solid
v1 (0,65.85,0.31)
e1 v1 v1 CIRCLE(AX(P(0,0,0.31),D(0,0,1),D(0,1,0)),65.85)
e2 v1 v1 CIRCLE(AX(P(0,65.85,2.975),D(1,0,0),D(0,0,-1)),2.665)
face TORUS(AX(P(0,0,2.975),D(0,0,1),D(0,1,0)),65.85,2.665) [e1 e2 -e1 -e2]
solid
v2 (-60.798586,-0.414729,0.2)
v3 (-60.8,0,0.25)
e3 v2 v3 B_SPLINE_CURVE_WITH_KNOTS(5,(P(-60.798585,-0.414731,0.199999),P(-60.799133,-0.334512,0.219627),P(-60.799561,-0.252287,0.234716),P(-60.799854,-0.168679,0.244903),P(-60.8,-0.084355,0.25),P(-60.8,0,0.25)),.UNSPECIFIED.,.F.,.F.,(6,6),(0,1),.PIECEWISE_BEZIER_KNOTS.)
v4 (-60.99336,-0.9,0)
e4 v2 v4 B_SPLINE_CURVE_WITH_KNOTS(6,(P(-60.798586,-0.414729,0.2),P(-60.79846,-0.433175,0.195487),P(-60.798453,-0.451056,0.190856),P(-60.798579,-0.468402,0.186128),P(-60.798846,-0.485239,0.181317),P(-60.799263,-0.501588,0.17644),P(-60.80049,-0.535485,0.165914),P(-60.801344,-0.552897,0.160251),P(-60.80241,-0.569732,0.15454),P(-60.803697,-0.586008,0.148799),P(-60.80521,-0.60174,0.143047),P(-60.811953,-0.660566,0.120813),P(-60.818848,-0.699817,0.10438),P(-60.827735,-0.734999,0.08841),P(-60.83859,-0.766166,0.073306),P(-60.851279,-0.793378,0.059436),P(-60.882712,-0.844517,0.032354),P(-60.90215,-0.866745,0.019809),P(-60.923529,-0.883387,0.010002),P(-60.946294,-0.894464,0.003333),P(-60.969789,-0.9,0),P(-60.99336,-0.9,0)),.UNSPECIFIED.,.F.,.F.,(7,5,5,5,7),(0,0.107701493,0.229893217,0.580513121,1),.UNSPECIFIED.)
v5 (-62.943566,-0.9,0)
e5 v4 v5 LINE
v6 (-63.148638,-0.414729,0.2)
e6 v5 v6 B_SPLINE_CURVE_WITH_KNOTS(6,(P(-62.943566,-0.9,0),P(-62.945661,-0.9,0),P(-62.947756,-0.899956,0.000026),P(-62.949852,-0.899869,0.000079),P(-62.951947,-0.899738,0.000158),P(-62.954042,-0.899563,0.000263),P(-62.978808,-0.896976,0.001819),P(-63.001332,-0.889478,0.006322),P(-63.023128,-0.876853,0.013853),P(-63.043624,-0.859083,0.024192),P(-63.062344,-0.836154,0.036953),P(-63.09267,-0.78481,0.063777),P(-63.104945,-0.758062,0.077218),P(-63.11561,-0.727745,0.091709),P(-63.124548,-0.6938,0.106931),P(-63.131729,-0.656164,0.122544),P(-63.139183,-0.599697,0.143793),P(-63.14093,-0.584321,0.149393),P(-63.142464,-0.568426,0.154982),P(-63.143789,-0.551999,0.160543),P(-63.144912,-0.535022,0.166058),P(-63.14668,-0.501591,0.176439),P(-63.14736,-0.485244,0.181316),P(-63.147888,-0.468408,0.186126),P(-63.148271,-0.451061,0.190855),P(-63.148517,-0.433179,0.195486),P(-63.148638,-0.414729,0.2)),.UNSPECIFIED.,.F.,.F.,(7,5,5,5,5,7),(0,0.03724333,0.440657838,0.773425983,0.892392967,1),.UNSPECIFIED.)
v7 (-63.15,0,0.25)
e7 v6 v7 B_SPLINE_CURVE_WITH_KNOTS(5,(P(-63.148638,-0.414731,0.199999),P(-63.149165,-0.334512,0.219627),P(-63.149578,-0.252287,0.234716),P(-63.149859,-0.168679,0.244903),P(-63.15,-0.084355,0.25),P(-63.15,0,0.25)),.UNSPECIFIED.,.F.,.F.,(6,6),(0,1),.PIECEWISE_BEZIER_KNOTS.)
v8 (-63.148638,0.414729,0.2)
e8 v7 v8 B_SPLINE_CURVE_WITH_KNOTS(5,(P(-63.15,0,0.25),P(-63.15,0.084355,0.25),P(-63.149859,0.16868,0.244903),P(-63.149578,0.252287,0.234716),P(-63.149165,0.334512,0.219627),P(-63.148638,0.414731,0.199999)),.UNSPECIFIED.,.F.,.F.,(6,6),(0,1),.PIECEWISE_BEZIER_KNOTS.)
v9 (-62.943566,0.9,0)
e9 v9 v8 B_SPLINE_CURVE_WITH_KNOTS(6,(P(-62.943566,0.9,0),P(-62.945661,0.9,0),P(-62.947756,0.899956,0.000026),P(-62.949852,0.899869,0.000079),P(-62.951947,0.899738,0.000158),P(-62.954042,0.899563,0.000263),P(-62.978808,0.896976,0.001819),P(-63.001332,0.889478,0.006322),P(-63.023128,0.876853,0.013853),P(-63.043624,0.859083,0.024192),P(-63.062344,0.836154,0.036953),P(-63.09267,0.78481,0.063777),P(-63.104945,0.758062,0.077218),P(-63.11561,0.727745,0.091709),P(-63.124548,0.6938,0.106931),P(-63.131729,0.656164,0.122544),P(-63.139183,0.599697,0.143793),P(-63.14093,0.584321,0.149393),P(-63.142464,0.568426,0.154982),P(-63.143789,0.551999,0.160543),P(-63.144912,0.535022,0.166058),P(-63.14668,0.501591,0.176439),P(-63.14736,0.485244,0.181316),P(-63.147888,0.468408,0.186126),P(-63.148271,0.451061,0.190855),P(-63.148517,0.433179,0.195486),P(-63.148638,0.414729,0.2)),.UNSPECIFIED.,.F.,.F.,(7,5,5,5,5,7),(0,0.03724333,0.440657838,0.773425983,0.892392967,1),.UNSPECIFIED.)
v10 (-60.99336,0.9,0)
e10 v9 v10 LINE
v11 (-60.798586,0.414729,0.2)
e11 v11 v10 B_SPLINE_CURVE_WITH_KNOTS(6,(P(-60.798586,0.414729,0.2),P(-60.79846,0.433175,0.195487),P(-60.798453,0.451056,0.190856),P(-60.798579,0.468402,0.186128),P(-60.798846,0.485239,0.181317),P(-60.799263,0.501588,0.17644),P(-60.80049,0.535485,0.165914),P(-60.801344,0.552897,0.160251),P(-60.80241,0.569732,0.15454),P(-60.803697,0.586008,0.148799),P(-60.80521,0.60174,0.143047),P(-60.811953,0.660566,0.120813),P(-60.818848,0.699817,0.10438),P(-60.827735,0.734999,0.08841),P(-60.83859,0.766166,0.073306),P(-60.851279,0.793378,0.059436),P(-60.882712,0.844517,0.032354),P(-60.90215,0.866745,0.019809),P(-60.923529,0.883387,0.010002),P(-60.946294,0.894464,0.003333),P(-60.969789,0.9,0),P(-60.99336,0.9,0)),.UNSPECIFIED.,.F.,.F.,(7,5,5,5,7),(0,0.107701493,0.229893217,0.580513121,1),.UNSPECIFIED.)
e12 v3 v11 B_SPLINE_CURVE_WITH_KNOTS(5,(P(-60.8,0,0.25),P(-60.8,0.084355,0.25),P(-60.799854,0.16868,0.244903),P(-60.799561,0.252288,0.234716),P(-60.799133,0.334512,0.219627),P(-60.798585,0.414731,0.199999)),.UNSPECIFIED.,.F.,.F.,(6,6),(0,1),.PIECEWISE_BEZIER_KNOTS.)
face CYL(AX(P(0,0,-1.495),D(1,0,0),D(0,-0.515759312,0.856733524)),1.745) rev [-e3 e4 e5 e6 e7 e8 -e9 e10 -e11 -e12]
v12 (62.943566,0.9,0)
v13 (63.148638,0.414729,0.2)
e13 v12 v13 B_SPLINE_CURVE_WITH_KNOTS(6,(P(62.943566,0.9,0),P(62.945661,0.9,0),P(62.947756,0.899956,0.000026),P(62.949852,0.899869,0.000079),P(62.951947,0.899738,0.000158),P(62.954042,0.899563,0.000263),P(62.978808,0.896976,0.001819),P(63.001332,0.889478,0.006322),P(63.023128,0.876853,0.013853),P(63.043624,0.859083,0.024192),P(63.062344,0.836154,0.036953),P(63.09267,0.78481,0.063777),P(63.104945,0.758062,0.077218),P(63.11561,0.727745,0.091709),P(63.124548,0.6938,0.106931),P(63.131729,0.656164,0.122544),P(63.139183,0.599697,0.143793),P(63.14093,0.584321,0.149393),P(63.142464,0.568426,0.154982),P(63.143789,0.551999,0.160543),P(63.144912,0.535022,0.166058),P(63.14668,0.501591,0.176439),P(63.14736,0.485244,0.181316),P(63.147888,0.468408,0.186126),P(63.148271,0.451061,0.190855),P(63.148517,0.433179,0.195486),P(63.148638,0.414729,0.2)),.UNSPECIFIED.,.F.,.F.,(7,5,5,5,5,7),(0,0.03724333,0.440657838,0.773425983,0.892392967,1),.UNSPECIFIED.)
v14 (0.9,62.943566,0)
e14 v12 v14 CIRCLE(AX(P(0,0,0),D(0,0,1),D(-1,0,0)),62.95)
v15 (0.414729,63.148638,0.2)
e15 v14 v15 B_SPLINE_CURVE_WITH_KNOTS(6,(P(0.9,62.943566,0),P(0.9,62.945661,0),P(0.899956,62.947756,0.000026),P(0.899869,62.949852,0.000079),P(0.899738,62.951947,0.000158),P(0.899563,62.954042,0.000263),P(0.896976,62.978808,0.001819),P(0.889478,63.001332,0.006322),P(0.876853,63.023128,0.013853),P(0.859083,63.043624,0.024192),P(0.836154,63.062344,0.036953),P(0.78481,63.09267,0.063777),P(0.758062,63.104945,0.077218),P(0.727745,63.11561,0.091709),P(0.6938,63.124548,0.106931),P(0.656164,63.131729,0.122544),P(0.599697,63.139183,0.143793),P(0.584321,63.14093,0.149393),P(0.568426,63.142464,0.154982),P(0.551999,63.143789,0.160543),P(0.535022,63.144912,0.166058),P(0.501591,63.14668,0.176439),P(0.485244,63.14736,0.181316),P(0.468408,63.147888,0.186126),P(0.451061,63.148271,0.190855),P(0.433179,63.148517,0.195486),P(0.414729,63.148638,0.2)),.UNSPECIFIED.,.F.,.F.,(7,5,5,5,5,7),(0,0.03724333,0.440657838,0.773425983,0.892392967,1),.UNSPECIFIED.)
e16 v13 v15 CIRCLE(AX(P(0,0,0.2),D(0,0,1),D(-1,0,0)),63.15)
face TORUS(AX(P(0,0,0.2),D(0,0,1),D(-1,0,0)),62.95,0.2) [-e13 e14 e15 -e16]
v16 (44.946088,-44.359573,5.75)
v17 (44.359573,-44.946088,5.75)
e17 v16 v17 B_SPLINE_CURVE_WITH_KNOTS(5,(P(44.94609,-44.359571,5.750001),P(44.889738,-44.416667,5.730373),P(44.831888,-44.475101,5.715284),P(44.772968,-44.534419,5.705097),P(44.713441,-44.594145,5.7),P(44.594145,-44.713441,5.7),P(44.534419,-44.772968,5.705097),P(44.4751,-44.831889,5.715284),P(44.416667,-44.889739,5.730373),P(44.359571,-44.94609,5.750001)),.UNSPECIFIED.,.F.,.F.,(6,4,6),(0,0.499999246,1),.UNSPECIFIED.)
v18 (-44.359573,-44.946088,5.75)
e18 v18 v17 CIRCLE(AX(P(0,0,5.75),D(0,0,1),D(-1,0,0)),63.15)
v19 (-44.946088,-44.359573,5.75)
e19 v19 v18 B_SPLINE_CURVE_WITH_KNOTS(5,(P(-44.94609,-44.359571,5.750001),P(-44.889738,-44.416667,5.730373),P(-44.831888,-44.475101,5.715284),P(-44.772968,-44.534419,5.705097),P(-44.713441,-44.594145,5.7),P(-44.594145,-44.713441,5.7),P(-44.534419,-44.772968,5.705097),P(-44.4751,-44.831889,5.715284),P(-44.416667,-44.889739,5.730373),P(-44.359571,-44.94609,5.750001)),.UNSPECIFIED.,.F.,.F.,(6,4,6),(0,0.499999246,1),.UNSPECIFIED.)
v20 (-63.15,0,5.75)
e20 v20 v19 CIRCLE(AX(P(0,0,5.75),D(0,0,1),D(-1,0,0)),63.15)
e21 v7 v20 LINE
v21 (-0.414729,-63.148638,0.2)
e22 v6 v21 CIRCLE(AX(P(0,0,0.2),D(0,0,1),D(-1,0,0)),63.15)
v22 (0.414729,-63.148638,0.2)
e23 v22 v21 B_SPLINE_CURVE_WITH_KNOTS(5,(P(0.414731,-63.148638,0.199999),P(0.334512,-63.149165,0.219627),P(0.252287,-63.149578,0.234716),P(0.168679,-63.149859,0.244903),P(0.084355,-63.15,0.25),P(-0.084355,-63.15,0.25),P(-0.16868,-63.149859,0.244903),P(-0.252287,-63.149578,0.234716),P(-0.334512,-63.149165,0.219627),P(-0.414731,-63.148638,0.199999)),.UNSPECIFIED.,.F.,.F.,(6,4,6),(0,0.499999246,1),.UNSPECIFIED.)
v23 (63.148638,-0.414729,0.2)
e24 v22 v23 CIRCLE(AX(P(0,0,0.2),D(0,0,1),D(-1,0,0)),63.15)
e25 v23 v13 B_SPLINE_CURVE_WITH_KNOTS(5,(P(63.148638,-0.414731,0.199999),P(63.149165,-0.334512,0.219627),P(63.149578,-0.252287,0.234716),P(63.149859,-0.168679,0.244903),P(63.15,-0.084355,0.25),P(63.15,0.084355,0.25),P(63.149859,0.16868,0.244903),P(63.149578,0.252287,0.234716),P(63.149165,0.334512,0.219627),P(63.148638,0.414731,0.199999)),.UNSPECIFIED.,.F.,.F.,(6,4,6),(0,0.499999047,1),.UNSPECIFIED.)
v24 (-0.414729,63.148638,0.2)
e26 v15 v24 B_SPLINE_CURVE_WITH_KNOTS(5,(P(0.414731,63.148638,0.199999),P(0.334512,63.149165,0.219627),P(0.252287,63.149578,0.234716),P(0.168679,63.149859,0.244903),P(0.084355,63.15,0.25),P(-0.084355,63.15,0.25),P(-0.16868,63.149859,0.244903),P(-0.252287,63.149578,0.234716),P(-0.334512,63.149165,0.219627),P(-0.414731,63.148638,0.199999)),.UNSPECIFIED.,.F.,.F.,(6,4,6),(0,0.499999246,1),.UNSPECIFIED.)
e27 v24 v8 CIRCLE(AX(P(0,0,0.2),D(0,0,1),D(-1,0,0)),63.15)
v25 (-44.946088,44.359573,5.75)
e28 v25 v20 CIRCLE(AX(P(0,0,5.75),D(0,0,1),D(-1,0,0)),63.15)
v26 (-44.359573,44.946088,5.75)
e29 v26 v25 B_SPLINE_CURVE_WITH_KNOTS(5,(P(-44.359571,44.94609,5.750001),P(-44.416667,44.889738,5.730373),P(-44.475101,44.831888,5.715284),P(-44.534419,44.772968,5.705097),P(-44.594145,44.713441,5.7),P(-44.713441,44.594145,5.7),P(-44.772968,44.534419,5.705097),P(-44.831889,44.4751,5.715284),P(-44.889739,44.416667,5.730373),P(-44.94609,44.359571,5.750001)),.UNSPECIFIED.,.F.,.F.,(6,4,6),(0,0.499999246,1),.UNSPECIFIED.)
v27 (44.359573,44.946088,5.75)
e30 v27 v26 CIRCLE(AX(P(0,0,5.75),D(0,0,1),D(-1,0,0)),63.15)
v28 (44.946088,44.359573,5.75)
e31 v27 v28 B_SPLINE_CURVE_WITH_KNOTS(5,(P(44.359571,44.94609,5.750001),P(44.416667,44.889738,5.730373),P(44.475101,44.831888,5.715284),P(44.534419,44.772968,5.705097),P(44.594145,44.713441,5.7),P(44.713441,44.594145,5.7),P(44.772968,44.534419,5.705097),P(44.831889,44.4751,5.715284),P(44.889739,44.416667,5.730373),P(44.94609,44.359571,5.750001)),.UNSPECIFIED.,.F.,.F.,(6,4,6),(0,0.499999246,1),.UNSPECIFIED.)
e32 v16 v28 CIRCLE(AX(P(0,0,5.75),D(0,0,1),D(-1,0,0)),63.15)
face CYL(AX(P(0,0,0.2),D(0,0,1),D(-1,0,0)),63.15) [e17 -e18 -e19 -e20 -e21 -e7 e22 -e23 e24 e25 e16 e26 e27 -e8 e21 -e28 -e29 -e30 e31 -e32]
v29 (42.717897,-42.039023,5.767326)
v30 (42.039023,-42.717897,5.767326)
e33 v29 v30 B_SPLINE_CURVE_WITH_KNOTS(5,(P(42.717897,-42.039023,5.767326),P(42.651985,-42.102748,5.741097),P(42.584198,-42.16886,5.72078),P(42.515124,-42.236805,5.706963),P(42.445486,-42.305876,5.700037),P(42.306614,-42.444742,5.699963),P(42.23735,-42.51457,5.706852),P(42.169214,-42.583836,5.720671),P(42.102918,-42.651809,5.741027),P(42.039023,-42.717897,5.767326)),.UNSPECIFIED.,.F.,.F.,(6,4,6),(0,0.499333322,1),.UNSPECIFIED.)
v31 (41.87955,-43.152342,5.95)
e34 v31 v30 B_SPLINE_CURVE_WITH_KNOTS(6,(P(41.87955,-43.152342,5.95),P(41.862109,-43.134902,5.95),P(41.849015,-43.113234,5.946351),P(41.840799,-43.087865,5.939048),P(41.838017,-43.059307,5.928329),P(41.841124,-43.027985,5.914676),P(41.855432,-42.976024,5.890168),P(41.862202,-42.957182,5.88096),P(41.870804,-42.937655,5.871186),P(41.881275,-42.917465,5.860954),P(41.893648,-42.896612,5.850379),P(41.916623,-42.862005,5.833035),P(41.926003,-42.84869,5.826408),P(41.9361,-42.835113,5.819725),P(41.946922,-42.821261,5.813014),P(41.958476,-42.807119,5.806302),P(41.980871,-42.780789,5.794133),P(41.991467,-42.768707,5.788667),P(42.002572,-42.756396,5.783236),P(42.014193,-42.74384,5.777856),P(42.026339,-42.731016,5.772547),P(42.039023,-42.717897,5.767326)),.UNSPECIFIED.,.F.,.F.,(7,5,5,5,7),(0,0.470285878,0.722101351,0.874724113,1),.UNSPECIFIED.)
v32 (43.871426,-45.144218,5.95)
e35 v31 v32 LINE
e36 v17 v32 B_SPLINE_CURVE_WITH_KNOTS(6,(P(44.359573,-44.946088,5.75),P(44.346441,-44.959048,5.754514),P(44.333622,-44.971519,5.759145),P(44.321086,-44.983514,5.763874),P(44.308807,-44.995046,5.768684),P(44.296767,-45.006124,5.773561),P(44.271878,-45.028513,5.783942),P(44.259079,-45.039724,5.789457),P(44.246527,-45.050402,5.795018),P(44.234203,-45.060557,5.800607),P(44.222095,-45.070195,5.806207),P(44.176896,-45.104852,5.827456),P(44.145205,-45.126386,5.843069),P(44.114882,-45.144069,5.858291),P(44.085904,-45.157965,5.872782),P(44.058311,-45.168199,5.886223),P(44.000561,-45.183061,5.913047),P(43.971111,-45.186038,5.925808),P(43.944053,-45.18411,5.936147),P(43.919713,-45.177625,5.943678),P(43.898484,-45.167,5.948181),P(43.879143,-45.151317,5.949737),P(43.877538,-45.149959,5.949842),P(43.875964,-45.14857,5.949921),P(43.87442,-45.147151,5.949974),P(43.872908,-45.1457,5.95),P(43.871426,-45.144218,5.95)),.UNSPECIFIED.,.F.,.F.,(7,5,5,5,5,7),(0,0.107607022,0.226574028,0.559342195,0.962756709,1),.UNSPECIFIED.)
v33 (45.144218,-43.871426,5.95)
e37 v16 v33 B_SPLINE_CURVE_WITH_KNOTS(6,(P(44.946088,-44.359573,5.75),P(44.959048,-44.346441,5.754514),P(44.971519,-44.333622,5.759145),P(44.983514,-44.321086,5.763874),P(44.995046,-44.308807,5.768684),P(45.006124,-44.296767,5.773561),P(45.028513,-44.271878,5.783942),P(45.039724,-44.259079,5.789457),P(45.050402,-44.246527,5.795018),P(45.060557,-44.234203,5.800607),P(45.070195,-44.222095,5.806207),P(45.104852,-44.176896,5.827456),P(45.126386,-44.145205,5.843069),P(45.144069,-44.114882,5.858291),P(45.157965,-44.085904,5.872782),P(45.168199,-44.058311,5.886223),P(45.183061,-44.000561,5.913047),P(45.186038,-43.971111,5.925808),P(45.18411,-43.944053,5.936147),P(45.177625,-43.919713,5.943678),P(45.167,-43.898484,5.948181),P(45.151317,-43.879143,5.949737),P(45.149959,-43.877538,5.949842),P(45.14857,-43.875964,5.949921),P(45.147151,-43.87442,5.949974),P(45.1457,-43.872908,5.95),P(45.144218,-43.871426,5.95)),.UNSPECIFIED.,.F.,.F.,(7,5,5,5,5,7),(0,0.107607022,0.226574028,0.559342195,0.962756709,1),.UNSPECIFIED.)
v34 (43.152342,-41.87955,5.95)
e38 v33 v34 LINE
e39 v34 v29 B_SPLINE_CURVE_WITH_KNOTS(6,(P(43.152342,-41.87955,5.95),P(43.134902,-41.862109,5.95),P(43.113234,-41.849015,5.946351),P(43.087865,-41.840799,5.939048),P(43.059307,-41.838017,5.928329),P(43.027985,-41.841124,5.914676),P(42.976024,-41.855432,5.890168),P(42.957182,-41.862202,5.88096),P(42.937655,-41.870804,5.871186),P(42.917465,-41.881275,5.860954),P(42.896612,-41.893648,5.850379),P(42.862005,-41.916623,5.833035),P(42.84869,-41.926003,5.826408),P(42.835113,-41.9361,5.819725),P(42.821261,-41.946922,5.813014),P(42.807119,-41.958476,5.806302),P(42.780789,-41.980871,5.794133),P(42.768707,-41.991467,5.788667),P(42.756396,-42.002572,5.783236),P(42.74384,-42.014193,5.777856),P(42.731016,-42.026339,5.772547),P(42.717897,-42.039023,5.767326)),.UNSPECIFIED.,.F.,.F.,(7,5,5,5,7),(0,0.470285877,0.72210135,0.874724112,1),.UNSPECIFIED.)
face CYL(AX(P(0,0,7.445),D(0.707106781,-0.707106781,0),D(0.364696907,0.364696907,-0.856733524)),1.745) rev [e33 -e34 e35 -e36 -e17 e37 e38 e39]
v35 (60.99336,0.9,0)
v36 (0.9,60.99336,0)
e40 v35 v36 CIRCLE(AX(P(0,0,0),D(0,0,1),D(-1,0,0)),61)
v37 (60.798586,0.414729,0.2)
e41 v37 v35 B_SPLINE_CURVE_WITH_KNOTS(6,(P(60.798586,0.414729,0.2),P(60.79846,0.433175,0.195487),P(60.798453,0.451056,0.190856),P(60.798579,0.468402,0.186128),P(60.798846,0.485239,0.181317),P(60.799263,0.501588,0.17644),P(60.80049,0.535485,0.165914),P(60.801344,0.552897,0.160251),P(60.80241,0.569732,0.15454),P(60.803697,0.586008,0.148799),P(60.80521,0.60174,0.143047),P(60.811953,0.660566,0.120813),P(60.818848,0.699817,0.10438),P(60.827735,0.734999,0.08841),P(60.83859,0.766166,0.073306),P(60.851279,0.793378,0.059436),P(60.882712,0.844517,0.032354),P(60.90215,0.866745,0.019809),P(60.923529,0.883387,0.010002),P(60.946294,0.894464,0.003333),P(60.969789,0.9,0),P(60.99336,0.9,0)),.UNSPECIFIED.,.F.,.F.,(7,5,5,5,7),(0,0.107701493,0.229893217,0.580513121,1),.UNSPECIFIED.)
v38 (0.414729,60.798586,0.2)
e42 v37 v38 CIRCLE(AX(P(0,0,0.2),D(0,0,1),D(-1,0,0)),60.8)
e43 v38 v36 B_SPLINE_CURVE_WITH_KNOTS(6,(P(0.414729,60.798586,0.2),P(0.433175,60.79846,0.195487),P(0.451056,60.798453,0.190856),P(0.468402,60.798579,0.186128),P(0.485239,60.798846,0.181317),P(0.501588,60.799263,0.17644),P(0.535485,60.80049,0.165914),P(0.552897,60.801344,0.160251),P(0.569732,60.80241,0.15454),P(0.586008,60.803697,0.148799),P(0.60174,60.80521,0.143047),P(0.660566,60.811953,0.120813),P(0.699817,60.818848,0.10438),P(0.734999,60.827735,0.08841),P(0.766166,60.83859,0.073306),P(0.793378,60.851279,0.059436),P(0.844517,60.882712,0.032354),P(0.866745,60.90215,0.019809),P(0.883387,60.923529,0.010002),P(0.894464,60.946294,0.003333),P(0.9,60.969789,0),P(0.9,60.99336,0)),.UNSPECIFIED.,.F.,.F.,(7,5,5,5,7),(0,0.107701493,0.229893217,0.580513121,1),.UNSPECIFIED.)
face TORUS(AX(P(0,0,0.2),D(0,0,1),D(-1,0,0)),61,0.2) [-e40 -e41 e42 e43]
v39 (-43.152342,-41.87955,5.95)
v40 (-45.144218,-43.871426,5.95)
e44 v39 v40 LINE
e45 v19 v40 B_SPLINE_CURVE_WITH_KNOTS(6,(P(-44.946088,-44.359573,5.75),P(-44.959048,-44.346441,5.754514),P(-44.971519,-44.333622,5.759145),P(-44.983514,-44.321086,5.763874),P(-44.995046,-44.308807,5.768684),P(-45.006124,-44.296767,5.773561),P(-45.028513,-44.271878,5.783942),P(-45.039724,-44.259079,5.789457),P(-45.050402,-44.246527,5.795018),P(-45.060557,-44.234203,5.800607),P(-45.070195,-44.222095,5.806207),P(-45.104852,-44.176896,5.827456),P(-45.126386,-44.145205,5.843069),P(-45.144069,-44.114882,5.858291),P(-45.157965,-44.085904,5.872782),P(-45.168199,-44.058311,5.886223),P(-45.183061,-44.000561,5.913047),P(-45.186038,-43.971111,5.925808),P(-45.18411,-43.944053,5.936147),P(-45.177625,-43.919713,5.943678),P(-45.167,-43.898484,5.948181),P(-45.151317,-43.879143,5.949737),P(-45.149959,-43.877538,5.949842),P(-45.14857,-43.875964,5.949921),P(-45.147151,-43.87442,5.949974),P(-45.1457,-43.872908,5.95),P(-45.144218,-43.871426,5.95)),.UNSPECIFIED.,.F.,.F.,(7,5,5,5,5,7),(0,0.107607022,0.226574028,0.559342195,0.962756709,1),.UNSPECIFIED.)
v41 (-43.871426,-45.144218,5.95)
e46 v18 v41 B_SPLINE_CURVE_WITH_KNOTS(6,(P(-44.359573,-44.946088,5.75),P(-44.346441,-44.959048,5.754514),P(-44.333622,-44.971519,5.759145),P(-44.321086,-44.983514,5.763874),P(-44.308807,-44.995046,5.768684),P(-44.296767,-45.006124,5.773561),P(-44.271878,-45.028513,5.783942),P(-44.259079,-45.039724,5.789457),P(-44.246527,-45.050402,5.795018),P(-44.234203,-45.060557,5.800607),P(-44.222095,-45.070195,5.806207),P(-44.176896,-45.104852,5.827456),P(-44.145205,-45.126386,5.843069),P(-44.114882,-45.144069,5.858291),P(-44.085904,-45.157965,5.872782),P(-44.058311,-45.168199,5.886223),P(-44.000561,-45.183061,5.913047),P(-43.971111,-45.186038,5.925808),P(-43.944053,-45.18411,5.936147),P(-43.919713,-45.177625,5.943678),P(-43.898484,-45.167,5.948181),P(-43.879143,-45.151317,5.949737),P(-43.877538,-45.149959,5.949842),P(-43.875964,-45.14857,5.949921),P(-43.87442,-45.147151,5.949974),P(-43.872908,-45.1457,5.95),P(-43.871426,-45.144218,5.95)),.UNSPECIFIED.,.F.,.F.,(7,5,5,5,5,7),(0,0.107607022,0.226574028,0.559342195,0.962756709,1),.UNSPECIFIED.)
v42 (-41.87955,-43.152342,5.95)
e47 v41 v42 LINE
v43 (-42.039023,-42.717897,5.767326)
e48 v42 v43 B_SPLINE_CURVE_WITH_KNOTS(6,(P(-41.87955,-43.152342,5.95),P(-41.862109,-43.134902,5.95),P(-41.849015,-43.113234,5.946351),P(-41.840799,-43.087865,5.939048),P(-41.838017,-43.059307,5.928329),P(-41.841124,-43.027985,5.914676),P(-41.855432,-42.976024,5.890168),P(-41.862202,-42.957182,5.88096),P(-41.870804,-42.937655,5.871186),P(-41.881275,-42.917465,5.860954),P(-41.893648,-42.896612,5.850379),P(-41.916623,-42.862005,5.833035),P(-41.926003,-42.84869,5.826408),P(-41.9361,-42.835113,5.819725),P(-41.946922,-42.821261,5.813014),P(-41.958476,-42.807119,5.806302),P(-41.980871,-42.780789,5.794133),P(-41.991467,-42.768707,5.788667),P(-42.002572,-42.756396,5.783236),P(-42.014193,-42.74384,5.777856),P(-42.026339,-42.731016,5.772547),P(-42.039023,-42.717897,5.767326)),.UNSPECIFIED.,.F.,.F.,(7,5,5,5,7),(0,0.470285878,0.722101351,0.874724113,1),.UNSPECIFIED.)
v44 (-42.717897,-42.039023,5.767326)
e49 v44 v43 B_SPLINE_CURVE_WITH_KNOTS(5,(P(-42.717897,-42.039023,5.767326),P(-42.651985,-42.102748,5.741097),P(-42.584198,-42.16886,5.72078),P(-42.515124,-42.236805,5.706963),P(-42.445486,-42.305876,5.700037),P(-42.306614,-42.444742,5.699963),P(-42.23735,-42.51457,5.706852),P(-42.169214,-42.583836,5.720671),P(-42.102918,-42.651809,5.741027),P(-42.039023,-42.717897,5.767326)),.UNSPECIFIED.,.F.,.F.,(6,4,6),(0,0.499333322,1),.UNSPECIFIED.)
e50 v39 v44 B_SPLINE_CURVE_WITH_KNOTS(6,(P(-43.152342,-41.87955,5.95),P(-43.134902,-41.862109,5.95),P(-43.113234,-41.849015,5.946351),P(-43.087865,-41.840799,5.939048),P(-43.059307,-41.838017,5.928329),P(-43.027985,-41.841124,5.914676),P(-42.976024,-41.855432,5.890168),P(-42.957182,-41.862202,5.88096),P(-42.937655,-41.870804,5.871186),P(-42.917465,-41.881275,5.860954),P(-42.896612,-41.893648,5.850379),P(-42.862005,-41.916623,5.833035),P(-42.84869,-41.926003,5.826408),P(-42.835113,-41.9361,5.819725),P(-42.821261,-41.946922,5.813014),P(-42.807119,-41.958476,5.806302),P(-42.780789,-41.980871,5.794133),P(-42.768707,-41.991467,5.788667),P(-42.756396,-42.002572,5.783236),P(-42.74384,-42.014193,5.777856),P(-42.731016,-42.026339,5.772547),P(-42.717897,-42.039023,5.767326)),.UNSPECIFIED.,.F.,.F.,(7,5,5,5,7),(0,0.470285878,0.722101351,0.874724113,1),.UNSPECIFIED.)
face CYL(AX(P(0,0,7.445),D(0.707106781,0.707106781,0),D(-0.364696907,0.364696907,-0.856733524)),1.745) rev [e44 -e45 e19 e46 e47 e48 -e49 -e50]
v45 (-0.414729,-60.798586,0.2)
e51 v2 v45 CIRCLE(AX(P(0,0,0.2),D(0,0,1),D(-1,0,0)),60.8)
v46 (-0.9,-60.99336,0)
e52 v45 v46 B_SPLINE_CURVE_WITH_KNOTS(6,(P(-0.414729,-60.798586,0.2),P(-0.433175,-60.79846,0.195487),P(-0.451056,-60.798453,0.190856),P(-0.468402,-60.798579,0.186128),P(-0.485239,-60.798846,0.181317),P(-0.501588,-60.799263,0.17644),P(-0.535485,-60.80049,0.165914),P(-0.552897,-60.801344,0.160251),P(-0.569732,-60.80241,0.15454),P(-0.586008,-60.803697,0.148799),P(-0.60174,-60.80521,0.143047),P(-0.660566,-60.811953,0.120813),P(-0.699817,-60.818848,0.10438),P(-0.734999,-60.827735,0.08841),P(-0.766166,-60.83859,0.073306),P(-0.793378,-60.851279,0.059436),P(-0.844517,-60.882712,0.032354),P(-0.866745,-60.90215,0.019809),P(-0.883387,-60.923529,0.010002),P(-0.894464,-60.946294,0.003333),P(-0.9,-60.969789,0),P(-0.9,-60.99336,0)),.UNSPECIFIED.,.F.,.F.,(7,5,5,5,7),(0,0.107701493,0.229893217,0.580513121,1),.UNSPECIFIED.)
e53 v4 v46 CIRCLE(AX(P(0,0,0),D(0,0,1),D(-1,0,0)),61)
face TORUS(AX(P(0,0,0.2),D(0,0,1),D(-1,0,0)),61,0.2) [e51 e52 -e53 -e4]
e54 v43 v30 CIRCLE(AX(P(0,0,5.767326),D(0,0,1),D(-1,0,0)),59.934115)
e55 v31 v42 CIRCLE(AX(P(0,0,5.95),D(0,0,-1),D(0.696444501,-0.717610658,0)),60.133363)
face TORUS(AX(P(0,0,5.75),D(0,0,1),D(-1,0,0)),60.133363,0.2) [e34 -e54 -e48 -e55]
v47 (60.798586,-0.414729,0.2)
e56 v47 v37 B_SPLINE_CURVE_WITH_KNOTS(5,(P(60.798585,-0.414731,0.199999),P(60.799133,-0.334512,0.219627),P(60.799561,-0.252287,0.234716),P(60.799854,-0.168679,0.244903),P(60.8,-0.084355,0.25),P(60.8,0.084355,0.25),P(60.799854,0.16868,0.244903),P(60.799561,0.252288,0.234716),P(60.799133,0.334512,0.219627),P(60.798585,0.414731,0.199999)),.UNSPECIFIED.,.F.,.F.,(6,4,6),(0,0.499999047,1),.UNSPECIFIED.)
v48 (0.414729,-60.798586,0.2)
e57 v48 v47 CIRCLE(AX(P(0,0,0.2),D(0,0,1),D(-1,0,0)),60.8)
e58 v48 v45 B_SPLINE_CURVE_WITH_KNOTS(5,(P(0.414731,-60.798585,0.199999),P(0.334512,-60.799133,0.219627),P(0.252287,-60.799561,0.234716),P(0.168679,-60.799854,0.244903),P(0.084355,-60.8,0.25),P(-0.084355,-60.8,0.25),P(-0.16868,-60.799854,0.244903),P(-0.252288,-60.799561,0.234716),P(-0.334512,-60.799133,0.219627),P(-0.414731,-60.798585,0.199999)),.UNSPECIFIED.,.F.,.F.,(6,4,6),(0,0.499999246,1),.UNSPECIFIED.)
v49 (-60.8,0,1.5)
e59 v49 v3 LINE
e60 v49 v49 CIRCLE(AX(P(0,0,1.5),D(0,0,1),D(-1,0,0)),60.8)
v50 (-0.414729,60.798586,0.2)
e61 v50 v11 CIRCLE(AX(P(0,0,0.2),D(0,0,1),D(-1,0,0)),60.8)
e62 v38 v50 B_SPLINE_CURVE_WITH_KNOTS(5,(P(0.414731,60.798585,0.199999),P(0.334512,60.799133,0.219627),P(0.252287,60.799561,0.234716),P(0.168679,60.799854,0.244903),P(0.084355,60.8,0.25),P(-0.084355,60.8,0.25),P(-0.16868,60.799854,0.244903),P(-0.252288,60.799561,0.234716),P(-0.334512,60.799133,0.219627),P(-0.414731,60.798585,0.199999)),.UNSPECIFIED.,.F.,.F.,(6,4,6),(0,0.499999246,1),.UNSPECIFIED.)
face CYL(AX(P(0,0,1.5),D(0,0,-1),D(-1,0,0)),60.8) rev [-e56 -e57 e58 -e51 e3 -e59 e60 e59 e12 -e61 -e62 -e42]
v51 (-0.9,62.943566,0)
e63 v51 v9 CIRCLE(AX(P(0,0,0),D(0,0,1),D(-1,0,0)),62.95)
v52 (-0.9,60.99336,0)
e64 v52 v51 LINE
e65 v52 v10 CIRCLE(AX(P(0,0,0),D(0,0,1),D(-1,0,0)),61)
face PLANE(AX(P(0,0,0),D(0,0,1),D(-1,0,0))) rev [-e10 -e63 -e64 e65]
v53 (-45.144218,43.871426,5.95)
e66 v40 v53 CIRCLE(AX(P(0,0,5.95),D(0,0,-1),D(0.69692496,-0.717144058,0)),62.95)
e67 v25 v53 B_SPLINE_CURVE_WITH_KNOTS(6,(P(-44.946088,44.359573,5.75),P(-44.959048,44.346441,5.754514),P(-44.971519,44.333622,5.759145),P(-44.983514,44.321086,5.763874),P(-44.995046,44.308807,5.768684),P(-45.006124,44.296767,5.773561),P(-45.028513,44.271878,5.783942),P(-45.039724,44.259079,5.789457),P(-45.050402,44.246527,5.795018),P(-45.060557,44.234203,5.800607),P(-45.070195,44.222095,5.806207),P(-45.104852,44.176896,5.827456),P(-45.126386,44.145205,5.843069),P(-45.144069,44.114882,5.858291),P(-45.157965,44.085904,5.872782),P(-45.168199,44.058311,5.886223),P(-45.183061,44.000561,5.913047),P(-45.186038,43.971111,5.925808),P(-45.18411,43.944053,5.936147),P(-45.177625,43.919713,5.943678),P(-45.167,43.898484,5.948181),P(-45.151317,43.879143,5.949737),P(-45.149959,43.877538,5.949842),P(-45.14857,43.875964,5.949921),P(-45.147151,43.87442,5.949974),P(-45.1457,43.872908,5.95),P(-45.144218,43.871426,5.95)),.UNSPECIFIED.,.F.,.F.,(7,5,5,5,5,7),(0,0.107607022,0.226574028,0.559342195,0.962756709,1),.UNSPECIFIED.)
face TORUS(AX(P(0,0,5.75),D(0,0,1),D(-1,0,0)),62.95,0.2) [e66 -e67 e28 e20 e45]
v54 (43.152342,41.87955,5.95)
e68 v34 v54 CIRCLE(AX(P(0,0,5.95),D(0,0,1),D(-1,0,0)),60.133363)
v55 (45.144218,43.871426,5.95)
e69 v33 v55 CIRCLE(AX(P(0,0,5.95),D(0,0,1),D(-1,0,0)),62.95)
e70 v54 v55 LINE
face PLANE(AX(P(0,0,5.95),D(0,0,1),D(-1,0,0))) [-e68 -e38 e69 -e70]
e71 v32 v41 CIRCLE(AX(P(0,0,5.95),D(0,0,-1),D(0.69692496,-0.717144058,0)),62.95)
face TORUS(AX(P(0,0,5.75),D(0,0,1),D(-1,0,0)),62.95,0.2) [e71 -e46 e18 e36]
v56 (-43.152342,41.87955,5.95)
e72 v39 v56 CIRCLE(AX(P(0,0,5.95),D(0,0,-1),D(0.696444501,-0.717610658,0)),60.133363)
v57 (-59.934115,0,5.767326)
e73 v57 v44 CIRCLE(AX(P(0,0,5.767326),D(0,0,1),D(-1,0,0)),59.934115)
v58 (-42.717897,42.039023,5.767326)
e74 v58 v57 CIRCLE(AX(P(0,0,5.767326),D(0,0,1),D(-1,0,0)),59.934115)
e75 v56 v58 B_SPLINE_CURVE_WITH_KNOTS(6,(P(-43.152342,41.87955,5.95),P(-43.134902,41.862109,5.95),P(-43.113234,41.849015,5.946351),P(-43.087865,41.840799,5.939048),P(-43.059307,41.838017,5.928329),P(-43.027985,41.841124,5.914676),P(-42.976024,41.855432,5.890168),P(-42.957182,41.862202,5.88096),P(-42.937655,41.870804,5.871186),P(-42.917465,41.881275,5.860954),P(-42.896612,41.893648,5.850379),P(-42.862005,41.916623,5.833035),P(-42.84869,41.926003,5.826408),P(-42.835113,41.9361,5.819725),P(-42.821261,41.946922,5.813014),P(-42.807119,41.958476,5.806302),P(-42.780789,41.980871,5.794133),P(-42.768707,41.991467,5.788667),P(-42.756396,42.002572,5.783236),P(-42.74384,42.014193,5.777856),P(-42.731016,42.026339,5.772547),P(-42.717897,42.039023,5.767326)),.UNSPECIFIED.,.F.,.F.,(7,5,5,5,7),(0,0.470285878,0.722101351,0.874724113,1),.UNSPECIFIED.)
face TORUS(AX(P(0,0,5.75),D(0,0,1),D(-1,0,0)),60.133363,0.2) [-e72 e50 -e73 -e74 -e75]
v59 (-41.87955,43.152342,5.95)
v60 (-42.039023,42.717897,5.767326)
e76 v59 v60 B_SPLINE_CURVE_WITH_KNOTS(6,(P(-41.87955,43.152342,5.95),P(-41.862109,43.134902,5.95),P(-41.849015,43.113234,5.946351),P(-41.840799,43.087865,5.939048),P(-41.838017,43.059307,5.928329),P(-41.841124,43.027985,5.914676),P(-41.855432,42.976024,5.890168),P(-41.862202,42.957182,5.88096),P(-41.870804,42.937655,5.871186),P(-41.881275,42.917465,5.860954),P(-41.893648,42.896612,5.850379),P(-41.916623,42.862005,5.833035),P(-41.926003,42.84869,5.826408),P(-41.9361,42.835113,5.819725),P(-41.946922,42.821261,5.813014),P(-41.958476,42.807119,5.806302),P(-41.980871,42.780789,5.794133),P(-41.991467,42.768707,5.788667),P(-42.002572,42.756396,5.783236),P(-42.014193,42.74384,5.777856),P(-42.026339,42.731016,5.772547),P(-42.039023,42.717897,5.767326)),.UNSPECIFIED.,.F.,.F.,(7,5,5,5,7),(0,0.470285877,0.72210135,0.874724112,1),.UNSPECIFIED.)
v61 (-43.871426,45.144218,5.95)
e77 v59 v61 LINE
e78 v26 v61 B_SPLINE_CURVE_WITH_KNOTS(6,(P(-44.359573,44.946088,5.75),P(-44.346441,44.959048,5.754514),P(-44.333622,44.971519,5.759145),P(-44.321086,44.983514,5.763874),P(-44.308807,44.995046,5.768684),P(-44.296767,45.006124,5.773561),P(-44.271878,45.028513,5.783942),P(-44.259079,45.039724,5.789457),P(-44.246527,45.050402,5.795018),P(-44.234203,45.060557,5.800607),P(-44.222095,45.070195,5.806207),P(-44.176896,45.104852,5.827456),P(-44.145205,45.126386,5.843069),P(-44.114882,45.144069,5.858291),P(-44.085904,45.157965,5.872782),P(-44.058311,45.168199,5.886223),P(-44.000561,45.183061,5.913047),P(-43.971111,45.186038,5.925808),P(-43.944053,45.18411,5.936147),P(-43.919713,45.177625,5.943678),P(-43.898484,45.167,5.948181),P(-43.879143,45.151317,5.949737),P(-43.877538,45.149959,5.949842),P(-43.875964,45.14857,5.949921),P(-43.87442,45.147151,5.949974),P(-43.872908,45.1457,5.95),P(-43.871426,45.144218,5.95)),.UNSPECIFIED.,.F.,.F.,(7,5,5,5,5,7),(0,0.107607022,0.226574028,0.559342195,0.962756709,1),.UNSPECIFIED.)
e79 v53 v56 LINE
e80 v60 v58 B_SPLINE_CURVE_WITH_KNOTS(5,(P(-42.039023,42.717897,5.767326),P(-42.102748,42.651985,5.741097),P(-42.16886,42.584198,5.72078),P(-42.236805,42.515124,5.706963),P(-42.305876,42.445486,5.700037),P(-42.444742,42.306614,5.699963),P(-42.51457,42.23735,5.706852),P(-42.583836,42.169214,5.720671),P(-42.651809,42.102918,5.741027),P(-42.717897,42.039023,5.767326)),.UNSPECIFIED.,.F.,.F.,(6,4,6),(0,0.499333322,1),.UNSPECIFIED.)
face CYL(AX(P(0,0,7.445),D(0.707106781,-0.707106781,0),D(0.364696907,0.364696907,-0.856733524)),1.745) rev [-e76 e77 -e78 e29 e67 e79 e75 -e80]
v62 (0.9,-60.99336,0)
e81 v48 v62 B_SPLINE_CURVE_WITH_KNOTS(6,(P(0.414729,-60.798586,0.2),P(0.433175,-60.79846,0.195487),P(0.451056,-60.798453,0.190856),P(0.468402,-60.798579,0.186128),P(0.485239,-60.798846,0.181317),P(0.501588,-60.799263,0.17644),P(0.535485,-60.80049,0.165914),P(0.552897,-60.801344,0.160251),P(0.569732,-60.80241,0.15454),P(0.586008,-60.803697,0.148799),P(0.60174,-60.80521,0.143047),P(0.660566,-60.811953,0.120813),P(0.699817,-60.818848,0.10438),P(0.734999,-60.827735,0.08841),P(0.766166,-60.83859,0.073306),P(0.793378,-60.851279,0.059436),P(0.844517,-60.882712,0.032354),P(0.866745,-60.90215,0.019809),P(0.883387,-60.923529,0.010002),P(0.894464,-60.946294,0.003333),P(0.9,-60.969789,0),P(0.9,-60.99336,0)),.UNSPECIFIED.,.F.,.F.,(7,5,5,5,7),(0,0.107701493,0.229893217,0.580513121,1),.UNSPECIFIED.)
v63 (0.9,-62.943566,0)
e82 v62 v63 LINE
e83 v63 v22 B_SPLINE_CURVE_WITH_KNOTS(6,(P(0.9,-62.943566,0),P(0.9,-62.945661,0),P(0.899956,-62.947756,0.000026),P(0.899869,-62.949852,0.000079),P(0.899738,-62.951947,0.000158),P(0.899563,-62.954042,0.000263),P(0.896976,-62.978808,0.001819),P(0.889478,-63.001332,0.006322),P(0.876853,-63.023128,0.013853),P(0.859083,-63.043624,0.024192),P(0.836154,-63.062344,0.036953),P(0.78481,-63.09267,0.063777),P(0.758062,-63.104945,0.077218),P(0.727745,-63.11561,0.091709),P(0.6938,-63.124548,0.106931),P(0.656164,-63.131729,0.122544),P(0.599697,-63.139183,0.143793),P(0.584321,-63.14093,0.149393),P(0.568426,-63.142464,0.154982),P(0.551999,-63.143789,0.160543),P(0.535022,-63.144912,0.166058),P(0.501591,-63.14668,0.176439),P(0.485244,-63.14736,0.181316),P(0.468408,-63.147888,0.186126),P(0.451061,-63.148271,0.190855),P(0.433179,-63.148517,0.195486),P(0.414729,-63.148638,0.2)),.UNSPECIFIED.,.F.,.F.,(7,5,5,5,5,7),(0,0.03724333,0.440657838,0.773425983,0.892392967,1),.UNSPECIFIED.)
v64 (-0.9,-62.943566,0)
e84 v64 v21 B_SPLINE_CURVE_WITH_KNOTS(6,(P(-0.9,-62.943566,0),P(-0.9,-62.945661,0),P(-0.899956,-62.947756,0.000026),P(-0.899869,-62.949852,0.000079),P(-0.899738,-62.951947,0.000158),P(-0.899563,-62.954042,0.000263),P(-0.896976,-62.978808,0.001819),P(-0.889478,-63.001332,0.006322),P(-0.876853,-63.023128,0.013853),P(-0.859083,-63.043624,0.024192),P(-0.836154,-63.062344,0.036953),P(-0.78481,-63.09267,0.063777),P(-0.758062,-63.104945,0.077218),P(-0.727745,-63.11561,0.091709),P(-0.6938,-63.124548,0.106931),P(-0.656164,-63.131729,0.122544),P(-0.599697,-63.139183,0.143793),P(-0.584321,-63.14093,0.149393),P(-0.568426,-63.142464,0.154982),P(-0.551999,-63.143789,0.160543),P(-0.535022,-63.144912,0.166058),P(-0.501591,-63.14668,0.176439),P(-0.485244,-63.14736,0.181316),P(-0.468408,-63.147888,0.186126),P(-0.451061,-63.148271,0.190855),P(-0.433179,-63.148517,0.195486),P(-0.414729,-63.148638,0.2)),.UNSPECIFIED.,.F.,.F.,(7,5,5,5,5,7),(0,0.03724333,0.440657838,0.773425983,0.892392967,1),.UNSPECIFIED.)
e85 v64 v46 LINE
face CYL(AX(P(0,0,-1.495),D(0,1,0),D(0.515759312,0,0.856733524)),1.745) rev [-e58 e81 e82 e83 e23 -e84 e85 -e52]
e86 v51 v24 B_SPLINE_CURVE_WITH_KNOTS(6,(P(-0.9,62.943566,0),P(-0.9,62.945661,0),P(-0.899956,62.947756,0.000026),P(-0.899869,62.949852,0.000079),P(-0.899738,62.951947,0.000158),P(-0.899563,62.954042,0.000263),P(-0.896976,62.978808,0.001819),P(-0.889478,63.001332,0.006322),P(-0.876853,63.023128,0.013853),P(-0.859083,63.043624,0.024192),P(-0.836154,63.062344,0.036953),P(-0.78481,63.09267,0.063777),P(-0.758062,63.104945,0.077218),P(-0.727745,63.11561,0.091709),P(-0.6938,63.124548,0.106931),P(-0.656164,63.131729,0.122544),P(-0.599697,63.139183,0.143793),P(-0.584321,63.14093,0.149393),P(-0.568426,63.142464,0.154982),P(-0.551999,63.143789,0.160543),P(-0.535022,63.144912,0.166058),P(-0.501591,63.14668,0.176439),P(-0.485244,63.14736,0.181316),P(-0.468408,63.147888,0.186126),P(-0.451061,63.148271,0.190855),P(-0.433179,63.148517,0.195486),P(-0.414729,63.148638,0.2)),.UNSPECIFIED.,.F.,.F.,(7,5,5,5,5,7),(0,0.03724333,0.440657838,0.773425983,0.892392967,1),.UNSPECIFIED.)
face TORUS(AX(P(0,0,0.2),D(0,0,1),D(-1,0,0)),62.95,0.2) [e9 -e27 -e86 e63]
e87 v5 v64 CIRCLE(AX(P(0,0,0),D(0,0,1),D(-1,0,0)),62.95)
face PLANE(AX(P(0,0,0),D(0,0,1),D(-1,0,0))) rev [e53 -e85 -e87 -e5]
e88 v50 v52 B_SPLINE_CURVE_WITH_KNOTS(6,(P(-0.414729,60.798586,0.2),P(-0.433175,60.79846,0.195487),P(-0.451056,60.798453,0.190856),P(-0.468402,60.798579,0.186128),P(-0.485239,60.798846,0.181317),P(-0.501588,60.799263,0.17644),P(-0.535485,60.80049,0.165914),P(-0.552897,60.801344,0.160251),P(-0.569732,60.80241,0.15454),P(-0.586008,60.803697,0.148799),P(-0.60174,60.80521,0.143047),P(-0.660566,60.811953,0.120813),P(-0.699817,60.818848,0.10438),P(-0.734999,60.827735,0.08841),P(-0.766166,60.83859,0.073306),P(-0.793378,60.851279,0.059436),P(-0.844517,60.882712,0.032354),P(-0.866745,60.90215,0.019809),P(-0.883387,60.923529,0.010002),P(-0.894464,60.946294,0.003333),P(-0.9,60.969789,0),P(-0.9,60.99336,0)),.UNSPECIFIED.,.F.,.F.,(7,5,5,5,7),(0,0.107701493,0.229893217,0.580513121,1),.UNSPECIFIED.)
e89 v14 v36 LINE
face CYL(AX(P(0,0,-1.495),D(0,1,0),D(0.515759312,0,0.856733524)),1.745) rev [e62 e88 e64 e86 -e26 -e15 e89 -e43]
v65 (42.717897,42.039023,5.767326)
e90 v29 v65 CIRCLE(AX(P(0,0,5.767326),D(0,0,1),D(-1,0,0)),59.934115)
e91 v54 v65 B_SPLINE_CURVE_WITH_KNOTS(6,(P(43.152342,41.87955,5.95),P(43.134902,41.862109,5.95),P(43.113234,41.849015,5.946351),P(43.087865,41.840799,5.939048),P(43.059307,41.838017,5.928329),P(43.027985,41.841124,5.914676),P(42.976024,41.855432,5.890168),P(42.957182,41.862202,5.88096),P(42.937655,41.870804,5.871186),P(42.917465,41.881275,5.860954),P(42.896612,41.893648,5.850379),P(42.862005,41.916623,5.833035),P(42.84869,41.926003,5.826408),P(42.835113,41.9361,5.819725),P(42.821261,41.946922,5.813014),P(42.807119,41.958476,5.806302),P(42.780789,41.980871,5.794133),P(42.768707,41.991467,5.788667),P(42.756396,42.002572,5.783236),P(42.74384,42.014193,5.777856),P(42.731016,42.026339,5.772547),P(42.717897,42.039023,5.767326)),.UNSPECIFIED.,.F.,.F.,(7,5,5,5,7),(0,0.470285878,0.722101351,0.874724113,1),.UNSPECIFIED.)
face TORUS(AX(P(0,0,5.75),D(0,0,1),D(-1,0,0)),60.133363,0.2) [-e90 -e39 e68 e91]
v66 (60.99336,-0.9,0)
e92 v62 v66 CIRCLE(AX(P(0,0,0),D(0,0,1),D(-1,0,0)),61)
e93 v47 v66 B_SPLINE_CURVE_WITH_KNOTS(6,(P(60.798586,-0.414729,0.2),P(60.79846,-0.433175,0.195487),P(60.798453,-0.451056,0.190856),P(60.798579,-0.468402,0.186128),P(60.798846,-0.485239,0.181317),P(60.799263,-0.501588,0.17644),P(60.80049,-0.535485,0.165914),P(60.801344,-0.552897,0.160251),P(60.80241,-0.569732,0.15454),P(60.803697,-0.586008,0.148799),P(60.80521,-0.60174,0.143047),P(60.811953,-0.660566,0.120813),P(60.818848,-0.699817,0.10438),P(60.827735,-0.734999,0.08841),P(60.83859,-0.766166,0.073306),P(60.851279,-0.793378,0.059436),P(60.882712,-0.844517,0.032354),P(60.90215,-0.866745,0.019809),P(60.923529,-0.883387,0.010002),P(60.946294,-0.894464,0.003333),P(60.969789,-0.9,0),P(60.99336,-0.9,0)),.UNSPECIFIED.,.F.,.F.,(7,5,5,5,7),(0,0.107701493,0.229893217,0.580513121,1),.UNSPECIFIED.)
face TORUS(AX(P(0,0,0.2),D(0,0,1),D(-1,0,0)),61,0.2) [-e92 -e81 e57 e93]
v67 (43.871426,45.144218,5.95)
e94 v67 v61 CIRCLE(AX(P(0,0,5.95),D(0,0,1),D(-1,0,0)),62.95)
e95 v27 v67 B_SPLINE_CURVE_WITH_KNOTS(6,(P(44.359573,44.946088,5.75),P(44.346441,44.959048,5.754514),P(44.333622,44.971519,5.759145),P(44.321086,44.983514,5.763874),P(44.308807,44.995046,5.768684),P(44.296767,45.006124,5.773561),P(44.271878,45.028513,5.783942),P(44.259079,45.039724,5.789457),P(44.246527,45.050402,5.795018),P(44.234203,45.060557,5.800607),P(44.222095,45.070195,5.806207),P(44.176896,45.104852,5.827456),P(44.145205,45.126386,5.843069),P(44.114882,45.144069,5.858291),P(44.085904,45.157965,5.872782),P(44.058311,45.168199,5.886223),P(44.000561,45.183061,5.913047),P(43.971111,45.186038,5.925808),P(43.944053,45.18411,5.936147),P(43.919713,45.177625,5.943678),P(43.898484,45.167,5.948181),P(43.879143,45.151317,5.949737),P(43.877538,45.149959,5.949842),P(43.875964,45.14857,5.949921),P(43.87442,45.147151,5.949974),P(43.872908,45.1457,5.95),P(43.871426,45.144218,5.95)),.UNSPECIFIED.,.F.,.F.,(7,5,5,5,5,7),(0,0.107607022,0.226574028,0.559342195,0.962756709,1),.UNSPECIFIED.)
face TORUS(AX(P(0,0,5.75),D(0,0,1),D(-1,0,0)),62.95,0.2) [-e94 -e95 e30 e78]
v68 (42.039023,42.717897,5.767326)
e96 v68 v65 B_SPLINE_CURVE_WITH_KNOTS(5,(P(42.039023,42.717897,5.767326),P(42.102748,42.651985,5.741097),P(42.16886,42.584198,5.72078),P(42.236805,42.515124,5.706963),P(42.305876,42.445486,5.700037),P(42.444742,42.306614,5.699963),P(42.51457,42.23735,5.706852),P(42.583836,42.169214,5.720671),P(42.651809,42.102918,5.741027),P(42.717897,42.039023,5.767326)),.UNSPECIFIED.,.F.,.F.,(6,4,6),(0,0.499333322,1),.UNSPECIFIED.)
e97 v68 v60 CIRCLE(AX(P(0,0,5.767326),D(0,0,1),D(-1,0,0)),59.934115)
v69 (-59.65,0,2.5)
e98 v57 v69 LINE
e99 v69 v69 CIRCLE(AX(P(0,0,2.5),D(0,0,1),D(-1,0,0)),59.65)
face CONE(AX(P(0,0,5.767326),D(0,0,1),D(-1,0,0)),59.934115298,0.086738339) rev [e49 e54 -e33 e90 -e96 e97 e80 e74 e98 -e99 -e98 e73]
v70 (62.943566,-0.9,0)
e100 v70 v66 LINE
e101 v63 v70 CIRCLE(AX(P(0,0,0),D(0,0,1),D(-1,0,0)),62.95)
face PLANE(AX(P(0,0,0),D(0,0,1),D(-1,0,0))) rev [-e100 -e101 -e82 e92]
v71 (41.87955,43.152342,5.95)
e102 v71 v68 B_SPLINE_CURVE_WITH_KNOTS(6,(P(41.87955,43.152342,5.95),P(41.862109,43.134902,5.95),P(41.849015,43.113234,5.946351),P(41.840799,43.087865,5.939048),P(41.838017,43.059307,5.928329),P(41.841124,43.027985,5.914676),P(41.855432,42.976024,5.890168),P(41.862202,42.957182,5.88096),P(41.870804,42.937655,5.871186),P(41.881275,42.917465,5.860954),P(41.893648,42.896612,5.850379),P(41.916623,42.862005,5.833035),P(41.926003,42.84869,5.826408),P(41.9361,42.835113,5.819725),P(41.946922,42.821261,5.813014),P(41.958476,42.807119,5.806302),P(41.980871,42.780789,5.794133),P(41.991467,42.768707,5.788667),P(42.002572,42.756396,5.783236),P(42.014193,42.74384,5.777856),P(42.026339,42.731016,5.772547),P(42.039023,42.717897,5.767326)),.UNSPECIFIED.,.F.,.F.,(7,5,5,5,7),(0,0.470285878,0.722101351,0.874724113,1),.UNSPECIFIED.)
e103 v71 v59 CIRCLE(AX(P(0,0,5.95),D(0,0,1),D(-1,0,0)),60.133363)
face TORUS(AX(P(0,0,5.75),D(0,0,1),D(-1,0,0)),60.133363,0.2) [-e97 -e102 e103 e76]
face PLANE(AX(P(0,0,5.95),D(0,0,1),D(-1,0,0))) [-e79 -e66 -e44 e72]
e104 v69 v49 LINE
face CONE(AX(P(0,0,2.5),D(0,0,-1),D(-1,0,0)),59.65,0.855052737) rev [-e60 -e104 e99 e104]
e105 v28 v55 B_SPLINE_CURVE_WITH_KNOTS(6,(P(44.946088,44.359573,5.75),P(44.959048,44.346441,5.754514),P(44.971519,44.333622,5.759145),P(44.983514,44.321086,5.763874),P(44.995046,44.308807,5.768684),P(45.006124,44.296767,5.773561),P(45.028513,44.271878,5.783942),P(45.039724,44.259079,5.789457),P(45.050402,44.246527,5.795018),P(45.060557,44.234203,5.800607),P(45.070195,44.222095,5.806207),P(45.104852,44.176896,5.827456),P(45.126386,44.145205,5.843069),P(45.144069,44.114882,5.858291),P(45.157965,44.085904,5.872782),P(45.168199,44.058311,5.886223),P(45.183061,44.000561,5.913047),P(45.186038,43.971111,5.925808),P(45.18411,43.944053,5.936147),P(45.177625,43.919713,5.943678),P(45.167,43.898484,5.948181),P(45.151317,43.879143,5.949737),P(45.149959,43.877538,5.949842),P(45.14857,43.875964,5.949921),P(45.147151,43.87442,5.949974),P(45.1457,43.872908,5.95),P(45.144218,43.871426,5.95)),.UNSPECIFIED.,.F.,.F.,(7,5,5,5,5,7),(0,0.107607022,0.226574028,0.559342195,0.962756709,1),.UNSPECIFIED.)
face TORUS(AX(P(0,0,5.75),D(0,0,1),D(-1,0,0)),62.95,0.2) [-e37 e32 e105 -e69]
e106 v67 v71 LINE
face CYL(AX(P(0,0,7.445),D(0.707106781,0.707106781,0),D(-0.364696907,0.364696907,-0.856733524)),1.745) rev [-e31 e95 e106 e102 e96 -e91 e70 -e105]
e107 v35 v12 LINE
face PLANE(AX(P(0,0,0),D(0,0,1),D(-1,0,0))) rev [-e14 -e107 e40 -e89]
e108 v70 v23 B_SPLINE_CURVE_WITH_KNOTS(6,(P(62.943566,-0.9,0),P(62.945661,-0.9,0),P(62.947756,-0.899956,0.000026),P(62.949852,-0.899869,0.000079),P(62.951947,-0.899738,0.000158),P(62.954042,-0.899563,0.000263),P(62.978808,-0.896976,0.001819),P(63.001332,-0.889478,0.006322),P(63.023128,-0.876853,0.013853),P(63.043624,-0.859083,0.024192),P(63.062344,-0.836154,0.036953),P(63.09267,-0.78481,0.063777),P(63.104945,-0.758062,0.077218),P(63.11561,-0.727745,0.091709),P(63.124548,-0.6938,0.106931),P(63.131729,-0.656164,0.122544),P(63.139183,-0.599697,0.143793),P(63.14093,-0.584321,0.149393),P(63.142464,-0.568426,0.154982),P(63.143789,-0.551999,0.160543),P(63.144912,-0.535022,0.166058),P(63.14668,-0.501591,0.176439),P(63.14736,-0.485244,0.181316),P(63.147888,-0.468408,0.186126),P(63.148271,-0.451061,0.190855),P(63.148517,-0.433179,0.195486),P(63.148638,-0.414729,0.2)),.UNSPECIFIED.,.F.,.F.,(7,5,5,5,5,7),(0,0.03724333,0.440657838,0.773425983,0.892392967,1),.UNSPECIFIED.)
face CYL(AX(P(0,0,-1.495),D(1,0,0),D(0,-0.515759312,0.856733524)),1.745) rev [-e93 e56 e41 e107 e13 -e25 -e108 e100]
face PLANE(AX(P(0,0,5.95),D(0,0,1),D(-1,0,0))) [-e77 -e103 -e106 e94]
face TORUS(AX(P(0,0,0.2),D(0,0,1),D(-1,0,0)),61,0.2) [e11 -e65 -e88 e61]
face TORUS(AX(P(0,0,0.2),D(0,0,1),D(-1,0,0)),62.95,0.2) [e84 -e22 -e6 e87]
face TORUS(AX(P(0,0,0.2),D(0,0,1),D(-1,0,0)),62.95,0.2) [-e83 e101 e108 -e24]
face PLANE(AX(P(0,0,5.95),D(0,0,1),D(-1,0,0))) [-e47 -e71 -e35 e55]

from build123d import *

# Parameters (mm, degrees)
SKETCH4_R          = 2.665
CUT_EXTRUDE1_DEPTH = 98.077355637
CIRPATTERN1_COUNT  = 4
CUT_EXTRUDE2_DEPTH = 98.077355637
CIRPATTERN2_COUNT  = 4


with BuildPart() as part:
    # Sketch1 → Revolve1 (revolve)
    with BuildSketch(Plane(origin=(0, 0, 0), x_dir=(0, 0, -1), z_dir=(1, 0, 0)), mode=Mode.PRIVATE) as revolve1_sk:
        with BuildLine():
            Line((0, 61), (0, 62.95))
            ThreePointArc((0, 62.95), (-0.058578644, 63.091421356), (-0.2, 63.15))
            Line((-0.2, 63.15), (-5.75, 63.15))
            ThreePointArc((-5.75, 63.15), (-5.891421356, 63.091421356), (-5.95, 62.95))
            Line((-5.95, 62.95), (-5.95, 60.133363415))
            ThreePointArc((-5.95, 60.133363415), (-5.897419783, 59.998206441), (-5.767325923, 59.934115298))
            Line((-5.767325923, 59.934115298), (-2.5, 59.65))
            Line((-2.5, 59.65), (-1.5, 60.8))
            Line((-1.5, 60.8), (-0.2, 60.8))
            ThreePointArc((-0.2, 60.8), (-0.058578644, 60.858578644), (0, 61))
        make_face()
    revolve(revolve1_sk.sketch.rotate(Axis((0, 0, 0), (0, 0, 1)), 90), axis=Axis((0, 0, 0), (0, 0, 1)))

    # Sketch2 → Cut-Extrude1 (cut, symmetric)
    with BuildSketch(Plane(origin=(0, 0, 0), x_dir=(0, 0, -1), z_dir=(1, 0, 0))):
        with BuildLine():
            Line((0, 0.9), (0, -0.9))
            ThreePointArc((0, -0.9), (-0.25, 0), (0, 0.9))
        make_face()
    cut_extrude1 = extrude(amount=CUT_EXTRUDE1_DEPTH, both=True, mode=Mode.SUBTRACT)

    # CirPattern1: Cut-Extrude1 ×4 about axis
    cirpattern1_axis = Axis((0, 0, 0), (0, 0, 1))
    for i in range(1, CIRPATTERN1_COUNT):
        add(cut_extrude1.rotate(cirpattern1_axis, i * 360 / CIRPATTERN1_COUNT), mode=Mode.SUBTRACT)

    # Sketch3 → Cut-Extrude2 (cut, symmetric)
    with BuildSketch(Plane(origin=(0, 0, 0), x_dir=(0.7071067811865488, 0.7071067811865462, 0), z_dir=(0.7071067811865462, -0.7071067811865488, 0))):
        with BuildLine():
            Line((-0.9, 5.95), (0.9, 5.95))
            ThreePointArc((0.9, 5.95), (0, 5.7), (-0.9, 5.95))
        make_face()
    cut_extrude2 = extrude(amount=CUT_EXTRUDE2_DEPTH, both=True, mode=Mode.SUBTRACT)

    # CirPattern2: Cut-Extrude2 ×4 about axis
    cirpattern2_axis = Axis((0, 0, 0), (0, 0, 1))
    for i in range(1, CIRPATTERN2_COUNT):
        add(cut_extrude2.rotate(cirpattern2_axis, i * 360 / CIRPATTERN2_COUNT), mode=Mode.SUBTRACT)


with BuildPart() as body_2:
    # Sketch4 → Revolve2 (revolve)
    with BuildSketch(Plane(origin=(0, 0, 0), x_dir=(0, 0, -1), z_dir=(1, 0, 0))):
        with Locations((-2.975, 65.85)):
            Circle(SKETCH4_R)
    revolve(axis=Axis((0, 0, 0), (0, 0, 1)))


solid = Compound([part.part, body_2.part])
